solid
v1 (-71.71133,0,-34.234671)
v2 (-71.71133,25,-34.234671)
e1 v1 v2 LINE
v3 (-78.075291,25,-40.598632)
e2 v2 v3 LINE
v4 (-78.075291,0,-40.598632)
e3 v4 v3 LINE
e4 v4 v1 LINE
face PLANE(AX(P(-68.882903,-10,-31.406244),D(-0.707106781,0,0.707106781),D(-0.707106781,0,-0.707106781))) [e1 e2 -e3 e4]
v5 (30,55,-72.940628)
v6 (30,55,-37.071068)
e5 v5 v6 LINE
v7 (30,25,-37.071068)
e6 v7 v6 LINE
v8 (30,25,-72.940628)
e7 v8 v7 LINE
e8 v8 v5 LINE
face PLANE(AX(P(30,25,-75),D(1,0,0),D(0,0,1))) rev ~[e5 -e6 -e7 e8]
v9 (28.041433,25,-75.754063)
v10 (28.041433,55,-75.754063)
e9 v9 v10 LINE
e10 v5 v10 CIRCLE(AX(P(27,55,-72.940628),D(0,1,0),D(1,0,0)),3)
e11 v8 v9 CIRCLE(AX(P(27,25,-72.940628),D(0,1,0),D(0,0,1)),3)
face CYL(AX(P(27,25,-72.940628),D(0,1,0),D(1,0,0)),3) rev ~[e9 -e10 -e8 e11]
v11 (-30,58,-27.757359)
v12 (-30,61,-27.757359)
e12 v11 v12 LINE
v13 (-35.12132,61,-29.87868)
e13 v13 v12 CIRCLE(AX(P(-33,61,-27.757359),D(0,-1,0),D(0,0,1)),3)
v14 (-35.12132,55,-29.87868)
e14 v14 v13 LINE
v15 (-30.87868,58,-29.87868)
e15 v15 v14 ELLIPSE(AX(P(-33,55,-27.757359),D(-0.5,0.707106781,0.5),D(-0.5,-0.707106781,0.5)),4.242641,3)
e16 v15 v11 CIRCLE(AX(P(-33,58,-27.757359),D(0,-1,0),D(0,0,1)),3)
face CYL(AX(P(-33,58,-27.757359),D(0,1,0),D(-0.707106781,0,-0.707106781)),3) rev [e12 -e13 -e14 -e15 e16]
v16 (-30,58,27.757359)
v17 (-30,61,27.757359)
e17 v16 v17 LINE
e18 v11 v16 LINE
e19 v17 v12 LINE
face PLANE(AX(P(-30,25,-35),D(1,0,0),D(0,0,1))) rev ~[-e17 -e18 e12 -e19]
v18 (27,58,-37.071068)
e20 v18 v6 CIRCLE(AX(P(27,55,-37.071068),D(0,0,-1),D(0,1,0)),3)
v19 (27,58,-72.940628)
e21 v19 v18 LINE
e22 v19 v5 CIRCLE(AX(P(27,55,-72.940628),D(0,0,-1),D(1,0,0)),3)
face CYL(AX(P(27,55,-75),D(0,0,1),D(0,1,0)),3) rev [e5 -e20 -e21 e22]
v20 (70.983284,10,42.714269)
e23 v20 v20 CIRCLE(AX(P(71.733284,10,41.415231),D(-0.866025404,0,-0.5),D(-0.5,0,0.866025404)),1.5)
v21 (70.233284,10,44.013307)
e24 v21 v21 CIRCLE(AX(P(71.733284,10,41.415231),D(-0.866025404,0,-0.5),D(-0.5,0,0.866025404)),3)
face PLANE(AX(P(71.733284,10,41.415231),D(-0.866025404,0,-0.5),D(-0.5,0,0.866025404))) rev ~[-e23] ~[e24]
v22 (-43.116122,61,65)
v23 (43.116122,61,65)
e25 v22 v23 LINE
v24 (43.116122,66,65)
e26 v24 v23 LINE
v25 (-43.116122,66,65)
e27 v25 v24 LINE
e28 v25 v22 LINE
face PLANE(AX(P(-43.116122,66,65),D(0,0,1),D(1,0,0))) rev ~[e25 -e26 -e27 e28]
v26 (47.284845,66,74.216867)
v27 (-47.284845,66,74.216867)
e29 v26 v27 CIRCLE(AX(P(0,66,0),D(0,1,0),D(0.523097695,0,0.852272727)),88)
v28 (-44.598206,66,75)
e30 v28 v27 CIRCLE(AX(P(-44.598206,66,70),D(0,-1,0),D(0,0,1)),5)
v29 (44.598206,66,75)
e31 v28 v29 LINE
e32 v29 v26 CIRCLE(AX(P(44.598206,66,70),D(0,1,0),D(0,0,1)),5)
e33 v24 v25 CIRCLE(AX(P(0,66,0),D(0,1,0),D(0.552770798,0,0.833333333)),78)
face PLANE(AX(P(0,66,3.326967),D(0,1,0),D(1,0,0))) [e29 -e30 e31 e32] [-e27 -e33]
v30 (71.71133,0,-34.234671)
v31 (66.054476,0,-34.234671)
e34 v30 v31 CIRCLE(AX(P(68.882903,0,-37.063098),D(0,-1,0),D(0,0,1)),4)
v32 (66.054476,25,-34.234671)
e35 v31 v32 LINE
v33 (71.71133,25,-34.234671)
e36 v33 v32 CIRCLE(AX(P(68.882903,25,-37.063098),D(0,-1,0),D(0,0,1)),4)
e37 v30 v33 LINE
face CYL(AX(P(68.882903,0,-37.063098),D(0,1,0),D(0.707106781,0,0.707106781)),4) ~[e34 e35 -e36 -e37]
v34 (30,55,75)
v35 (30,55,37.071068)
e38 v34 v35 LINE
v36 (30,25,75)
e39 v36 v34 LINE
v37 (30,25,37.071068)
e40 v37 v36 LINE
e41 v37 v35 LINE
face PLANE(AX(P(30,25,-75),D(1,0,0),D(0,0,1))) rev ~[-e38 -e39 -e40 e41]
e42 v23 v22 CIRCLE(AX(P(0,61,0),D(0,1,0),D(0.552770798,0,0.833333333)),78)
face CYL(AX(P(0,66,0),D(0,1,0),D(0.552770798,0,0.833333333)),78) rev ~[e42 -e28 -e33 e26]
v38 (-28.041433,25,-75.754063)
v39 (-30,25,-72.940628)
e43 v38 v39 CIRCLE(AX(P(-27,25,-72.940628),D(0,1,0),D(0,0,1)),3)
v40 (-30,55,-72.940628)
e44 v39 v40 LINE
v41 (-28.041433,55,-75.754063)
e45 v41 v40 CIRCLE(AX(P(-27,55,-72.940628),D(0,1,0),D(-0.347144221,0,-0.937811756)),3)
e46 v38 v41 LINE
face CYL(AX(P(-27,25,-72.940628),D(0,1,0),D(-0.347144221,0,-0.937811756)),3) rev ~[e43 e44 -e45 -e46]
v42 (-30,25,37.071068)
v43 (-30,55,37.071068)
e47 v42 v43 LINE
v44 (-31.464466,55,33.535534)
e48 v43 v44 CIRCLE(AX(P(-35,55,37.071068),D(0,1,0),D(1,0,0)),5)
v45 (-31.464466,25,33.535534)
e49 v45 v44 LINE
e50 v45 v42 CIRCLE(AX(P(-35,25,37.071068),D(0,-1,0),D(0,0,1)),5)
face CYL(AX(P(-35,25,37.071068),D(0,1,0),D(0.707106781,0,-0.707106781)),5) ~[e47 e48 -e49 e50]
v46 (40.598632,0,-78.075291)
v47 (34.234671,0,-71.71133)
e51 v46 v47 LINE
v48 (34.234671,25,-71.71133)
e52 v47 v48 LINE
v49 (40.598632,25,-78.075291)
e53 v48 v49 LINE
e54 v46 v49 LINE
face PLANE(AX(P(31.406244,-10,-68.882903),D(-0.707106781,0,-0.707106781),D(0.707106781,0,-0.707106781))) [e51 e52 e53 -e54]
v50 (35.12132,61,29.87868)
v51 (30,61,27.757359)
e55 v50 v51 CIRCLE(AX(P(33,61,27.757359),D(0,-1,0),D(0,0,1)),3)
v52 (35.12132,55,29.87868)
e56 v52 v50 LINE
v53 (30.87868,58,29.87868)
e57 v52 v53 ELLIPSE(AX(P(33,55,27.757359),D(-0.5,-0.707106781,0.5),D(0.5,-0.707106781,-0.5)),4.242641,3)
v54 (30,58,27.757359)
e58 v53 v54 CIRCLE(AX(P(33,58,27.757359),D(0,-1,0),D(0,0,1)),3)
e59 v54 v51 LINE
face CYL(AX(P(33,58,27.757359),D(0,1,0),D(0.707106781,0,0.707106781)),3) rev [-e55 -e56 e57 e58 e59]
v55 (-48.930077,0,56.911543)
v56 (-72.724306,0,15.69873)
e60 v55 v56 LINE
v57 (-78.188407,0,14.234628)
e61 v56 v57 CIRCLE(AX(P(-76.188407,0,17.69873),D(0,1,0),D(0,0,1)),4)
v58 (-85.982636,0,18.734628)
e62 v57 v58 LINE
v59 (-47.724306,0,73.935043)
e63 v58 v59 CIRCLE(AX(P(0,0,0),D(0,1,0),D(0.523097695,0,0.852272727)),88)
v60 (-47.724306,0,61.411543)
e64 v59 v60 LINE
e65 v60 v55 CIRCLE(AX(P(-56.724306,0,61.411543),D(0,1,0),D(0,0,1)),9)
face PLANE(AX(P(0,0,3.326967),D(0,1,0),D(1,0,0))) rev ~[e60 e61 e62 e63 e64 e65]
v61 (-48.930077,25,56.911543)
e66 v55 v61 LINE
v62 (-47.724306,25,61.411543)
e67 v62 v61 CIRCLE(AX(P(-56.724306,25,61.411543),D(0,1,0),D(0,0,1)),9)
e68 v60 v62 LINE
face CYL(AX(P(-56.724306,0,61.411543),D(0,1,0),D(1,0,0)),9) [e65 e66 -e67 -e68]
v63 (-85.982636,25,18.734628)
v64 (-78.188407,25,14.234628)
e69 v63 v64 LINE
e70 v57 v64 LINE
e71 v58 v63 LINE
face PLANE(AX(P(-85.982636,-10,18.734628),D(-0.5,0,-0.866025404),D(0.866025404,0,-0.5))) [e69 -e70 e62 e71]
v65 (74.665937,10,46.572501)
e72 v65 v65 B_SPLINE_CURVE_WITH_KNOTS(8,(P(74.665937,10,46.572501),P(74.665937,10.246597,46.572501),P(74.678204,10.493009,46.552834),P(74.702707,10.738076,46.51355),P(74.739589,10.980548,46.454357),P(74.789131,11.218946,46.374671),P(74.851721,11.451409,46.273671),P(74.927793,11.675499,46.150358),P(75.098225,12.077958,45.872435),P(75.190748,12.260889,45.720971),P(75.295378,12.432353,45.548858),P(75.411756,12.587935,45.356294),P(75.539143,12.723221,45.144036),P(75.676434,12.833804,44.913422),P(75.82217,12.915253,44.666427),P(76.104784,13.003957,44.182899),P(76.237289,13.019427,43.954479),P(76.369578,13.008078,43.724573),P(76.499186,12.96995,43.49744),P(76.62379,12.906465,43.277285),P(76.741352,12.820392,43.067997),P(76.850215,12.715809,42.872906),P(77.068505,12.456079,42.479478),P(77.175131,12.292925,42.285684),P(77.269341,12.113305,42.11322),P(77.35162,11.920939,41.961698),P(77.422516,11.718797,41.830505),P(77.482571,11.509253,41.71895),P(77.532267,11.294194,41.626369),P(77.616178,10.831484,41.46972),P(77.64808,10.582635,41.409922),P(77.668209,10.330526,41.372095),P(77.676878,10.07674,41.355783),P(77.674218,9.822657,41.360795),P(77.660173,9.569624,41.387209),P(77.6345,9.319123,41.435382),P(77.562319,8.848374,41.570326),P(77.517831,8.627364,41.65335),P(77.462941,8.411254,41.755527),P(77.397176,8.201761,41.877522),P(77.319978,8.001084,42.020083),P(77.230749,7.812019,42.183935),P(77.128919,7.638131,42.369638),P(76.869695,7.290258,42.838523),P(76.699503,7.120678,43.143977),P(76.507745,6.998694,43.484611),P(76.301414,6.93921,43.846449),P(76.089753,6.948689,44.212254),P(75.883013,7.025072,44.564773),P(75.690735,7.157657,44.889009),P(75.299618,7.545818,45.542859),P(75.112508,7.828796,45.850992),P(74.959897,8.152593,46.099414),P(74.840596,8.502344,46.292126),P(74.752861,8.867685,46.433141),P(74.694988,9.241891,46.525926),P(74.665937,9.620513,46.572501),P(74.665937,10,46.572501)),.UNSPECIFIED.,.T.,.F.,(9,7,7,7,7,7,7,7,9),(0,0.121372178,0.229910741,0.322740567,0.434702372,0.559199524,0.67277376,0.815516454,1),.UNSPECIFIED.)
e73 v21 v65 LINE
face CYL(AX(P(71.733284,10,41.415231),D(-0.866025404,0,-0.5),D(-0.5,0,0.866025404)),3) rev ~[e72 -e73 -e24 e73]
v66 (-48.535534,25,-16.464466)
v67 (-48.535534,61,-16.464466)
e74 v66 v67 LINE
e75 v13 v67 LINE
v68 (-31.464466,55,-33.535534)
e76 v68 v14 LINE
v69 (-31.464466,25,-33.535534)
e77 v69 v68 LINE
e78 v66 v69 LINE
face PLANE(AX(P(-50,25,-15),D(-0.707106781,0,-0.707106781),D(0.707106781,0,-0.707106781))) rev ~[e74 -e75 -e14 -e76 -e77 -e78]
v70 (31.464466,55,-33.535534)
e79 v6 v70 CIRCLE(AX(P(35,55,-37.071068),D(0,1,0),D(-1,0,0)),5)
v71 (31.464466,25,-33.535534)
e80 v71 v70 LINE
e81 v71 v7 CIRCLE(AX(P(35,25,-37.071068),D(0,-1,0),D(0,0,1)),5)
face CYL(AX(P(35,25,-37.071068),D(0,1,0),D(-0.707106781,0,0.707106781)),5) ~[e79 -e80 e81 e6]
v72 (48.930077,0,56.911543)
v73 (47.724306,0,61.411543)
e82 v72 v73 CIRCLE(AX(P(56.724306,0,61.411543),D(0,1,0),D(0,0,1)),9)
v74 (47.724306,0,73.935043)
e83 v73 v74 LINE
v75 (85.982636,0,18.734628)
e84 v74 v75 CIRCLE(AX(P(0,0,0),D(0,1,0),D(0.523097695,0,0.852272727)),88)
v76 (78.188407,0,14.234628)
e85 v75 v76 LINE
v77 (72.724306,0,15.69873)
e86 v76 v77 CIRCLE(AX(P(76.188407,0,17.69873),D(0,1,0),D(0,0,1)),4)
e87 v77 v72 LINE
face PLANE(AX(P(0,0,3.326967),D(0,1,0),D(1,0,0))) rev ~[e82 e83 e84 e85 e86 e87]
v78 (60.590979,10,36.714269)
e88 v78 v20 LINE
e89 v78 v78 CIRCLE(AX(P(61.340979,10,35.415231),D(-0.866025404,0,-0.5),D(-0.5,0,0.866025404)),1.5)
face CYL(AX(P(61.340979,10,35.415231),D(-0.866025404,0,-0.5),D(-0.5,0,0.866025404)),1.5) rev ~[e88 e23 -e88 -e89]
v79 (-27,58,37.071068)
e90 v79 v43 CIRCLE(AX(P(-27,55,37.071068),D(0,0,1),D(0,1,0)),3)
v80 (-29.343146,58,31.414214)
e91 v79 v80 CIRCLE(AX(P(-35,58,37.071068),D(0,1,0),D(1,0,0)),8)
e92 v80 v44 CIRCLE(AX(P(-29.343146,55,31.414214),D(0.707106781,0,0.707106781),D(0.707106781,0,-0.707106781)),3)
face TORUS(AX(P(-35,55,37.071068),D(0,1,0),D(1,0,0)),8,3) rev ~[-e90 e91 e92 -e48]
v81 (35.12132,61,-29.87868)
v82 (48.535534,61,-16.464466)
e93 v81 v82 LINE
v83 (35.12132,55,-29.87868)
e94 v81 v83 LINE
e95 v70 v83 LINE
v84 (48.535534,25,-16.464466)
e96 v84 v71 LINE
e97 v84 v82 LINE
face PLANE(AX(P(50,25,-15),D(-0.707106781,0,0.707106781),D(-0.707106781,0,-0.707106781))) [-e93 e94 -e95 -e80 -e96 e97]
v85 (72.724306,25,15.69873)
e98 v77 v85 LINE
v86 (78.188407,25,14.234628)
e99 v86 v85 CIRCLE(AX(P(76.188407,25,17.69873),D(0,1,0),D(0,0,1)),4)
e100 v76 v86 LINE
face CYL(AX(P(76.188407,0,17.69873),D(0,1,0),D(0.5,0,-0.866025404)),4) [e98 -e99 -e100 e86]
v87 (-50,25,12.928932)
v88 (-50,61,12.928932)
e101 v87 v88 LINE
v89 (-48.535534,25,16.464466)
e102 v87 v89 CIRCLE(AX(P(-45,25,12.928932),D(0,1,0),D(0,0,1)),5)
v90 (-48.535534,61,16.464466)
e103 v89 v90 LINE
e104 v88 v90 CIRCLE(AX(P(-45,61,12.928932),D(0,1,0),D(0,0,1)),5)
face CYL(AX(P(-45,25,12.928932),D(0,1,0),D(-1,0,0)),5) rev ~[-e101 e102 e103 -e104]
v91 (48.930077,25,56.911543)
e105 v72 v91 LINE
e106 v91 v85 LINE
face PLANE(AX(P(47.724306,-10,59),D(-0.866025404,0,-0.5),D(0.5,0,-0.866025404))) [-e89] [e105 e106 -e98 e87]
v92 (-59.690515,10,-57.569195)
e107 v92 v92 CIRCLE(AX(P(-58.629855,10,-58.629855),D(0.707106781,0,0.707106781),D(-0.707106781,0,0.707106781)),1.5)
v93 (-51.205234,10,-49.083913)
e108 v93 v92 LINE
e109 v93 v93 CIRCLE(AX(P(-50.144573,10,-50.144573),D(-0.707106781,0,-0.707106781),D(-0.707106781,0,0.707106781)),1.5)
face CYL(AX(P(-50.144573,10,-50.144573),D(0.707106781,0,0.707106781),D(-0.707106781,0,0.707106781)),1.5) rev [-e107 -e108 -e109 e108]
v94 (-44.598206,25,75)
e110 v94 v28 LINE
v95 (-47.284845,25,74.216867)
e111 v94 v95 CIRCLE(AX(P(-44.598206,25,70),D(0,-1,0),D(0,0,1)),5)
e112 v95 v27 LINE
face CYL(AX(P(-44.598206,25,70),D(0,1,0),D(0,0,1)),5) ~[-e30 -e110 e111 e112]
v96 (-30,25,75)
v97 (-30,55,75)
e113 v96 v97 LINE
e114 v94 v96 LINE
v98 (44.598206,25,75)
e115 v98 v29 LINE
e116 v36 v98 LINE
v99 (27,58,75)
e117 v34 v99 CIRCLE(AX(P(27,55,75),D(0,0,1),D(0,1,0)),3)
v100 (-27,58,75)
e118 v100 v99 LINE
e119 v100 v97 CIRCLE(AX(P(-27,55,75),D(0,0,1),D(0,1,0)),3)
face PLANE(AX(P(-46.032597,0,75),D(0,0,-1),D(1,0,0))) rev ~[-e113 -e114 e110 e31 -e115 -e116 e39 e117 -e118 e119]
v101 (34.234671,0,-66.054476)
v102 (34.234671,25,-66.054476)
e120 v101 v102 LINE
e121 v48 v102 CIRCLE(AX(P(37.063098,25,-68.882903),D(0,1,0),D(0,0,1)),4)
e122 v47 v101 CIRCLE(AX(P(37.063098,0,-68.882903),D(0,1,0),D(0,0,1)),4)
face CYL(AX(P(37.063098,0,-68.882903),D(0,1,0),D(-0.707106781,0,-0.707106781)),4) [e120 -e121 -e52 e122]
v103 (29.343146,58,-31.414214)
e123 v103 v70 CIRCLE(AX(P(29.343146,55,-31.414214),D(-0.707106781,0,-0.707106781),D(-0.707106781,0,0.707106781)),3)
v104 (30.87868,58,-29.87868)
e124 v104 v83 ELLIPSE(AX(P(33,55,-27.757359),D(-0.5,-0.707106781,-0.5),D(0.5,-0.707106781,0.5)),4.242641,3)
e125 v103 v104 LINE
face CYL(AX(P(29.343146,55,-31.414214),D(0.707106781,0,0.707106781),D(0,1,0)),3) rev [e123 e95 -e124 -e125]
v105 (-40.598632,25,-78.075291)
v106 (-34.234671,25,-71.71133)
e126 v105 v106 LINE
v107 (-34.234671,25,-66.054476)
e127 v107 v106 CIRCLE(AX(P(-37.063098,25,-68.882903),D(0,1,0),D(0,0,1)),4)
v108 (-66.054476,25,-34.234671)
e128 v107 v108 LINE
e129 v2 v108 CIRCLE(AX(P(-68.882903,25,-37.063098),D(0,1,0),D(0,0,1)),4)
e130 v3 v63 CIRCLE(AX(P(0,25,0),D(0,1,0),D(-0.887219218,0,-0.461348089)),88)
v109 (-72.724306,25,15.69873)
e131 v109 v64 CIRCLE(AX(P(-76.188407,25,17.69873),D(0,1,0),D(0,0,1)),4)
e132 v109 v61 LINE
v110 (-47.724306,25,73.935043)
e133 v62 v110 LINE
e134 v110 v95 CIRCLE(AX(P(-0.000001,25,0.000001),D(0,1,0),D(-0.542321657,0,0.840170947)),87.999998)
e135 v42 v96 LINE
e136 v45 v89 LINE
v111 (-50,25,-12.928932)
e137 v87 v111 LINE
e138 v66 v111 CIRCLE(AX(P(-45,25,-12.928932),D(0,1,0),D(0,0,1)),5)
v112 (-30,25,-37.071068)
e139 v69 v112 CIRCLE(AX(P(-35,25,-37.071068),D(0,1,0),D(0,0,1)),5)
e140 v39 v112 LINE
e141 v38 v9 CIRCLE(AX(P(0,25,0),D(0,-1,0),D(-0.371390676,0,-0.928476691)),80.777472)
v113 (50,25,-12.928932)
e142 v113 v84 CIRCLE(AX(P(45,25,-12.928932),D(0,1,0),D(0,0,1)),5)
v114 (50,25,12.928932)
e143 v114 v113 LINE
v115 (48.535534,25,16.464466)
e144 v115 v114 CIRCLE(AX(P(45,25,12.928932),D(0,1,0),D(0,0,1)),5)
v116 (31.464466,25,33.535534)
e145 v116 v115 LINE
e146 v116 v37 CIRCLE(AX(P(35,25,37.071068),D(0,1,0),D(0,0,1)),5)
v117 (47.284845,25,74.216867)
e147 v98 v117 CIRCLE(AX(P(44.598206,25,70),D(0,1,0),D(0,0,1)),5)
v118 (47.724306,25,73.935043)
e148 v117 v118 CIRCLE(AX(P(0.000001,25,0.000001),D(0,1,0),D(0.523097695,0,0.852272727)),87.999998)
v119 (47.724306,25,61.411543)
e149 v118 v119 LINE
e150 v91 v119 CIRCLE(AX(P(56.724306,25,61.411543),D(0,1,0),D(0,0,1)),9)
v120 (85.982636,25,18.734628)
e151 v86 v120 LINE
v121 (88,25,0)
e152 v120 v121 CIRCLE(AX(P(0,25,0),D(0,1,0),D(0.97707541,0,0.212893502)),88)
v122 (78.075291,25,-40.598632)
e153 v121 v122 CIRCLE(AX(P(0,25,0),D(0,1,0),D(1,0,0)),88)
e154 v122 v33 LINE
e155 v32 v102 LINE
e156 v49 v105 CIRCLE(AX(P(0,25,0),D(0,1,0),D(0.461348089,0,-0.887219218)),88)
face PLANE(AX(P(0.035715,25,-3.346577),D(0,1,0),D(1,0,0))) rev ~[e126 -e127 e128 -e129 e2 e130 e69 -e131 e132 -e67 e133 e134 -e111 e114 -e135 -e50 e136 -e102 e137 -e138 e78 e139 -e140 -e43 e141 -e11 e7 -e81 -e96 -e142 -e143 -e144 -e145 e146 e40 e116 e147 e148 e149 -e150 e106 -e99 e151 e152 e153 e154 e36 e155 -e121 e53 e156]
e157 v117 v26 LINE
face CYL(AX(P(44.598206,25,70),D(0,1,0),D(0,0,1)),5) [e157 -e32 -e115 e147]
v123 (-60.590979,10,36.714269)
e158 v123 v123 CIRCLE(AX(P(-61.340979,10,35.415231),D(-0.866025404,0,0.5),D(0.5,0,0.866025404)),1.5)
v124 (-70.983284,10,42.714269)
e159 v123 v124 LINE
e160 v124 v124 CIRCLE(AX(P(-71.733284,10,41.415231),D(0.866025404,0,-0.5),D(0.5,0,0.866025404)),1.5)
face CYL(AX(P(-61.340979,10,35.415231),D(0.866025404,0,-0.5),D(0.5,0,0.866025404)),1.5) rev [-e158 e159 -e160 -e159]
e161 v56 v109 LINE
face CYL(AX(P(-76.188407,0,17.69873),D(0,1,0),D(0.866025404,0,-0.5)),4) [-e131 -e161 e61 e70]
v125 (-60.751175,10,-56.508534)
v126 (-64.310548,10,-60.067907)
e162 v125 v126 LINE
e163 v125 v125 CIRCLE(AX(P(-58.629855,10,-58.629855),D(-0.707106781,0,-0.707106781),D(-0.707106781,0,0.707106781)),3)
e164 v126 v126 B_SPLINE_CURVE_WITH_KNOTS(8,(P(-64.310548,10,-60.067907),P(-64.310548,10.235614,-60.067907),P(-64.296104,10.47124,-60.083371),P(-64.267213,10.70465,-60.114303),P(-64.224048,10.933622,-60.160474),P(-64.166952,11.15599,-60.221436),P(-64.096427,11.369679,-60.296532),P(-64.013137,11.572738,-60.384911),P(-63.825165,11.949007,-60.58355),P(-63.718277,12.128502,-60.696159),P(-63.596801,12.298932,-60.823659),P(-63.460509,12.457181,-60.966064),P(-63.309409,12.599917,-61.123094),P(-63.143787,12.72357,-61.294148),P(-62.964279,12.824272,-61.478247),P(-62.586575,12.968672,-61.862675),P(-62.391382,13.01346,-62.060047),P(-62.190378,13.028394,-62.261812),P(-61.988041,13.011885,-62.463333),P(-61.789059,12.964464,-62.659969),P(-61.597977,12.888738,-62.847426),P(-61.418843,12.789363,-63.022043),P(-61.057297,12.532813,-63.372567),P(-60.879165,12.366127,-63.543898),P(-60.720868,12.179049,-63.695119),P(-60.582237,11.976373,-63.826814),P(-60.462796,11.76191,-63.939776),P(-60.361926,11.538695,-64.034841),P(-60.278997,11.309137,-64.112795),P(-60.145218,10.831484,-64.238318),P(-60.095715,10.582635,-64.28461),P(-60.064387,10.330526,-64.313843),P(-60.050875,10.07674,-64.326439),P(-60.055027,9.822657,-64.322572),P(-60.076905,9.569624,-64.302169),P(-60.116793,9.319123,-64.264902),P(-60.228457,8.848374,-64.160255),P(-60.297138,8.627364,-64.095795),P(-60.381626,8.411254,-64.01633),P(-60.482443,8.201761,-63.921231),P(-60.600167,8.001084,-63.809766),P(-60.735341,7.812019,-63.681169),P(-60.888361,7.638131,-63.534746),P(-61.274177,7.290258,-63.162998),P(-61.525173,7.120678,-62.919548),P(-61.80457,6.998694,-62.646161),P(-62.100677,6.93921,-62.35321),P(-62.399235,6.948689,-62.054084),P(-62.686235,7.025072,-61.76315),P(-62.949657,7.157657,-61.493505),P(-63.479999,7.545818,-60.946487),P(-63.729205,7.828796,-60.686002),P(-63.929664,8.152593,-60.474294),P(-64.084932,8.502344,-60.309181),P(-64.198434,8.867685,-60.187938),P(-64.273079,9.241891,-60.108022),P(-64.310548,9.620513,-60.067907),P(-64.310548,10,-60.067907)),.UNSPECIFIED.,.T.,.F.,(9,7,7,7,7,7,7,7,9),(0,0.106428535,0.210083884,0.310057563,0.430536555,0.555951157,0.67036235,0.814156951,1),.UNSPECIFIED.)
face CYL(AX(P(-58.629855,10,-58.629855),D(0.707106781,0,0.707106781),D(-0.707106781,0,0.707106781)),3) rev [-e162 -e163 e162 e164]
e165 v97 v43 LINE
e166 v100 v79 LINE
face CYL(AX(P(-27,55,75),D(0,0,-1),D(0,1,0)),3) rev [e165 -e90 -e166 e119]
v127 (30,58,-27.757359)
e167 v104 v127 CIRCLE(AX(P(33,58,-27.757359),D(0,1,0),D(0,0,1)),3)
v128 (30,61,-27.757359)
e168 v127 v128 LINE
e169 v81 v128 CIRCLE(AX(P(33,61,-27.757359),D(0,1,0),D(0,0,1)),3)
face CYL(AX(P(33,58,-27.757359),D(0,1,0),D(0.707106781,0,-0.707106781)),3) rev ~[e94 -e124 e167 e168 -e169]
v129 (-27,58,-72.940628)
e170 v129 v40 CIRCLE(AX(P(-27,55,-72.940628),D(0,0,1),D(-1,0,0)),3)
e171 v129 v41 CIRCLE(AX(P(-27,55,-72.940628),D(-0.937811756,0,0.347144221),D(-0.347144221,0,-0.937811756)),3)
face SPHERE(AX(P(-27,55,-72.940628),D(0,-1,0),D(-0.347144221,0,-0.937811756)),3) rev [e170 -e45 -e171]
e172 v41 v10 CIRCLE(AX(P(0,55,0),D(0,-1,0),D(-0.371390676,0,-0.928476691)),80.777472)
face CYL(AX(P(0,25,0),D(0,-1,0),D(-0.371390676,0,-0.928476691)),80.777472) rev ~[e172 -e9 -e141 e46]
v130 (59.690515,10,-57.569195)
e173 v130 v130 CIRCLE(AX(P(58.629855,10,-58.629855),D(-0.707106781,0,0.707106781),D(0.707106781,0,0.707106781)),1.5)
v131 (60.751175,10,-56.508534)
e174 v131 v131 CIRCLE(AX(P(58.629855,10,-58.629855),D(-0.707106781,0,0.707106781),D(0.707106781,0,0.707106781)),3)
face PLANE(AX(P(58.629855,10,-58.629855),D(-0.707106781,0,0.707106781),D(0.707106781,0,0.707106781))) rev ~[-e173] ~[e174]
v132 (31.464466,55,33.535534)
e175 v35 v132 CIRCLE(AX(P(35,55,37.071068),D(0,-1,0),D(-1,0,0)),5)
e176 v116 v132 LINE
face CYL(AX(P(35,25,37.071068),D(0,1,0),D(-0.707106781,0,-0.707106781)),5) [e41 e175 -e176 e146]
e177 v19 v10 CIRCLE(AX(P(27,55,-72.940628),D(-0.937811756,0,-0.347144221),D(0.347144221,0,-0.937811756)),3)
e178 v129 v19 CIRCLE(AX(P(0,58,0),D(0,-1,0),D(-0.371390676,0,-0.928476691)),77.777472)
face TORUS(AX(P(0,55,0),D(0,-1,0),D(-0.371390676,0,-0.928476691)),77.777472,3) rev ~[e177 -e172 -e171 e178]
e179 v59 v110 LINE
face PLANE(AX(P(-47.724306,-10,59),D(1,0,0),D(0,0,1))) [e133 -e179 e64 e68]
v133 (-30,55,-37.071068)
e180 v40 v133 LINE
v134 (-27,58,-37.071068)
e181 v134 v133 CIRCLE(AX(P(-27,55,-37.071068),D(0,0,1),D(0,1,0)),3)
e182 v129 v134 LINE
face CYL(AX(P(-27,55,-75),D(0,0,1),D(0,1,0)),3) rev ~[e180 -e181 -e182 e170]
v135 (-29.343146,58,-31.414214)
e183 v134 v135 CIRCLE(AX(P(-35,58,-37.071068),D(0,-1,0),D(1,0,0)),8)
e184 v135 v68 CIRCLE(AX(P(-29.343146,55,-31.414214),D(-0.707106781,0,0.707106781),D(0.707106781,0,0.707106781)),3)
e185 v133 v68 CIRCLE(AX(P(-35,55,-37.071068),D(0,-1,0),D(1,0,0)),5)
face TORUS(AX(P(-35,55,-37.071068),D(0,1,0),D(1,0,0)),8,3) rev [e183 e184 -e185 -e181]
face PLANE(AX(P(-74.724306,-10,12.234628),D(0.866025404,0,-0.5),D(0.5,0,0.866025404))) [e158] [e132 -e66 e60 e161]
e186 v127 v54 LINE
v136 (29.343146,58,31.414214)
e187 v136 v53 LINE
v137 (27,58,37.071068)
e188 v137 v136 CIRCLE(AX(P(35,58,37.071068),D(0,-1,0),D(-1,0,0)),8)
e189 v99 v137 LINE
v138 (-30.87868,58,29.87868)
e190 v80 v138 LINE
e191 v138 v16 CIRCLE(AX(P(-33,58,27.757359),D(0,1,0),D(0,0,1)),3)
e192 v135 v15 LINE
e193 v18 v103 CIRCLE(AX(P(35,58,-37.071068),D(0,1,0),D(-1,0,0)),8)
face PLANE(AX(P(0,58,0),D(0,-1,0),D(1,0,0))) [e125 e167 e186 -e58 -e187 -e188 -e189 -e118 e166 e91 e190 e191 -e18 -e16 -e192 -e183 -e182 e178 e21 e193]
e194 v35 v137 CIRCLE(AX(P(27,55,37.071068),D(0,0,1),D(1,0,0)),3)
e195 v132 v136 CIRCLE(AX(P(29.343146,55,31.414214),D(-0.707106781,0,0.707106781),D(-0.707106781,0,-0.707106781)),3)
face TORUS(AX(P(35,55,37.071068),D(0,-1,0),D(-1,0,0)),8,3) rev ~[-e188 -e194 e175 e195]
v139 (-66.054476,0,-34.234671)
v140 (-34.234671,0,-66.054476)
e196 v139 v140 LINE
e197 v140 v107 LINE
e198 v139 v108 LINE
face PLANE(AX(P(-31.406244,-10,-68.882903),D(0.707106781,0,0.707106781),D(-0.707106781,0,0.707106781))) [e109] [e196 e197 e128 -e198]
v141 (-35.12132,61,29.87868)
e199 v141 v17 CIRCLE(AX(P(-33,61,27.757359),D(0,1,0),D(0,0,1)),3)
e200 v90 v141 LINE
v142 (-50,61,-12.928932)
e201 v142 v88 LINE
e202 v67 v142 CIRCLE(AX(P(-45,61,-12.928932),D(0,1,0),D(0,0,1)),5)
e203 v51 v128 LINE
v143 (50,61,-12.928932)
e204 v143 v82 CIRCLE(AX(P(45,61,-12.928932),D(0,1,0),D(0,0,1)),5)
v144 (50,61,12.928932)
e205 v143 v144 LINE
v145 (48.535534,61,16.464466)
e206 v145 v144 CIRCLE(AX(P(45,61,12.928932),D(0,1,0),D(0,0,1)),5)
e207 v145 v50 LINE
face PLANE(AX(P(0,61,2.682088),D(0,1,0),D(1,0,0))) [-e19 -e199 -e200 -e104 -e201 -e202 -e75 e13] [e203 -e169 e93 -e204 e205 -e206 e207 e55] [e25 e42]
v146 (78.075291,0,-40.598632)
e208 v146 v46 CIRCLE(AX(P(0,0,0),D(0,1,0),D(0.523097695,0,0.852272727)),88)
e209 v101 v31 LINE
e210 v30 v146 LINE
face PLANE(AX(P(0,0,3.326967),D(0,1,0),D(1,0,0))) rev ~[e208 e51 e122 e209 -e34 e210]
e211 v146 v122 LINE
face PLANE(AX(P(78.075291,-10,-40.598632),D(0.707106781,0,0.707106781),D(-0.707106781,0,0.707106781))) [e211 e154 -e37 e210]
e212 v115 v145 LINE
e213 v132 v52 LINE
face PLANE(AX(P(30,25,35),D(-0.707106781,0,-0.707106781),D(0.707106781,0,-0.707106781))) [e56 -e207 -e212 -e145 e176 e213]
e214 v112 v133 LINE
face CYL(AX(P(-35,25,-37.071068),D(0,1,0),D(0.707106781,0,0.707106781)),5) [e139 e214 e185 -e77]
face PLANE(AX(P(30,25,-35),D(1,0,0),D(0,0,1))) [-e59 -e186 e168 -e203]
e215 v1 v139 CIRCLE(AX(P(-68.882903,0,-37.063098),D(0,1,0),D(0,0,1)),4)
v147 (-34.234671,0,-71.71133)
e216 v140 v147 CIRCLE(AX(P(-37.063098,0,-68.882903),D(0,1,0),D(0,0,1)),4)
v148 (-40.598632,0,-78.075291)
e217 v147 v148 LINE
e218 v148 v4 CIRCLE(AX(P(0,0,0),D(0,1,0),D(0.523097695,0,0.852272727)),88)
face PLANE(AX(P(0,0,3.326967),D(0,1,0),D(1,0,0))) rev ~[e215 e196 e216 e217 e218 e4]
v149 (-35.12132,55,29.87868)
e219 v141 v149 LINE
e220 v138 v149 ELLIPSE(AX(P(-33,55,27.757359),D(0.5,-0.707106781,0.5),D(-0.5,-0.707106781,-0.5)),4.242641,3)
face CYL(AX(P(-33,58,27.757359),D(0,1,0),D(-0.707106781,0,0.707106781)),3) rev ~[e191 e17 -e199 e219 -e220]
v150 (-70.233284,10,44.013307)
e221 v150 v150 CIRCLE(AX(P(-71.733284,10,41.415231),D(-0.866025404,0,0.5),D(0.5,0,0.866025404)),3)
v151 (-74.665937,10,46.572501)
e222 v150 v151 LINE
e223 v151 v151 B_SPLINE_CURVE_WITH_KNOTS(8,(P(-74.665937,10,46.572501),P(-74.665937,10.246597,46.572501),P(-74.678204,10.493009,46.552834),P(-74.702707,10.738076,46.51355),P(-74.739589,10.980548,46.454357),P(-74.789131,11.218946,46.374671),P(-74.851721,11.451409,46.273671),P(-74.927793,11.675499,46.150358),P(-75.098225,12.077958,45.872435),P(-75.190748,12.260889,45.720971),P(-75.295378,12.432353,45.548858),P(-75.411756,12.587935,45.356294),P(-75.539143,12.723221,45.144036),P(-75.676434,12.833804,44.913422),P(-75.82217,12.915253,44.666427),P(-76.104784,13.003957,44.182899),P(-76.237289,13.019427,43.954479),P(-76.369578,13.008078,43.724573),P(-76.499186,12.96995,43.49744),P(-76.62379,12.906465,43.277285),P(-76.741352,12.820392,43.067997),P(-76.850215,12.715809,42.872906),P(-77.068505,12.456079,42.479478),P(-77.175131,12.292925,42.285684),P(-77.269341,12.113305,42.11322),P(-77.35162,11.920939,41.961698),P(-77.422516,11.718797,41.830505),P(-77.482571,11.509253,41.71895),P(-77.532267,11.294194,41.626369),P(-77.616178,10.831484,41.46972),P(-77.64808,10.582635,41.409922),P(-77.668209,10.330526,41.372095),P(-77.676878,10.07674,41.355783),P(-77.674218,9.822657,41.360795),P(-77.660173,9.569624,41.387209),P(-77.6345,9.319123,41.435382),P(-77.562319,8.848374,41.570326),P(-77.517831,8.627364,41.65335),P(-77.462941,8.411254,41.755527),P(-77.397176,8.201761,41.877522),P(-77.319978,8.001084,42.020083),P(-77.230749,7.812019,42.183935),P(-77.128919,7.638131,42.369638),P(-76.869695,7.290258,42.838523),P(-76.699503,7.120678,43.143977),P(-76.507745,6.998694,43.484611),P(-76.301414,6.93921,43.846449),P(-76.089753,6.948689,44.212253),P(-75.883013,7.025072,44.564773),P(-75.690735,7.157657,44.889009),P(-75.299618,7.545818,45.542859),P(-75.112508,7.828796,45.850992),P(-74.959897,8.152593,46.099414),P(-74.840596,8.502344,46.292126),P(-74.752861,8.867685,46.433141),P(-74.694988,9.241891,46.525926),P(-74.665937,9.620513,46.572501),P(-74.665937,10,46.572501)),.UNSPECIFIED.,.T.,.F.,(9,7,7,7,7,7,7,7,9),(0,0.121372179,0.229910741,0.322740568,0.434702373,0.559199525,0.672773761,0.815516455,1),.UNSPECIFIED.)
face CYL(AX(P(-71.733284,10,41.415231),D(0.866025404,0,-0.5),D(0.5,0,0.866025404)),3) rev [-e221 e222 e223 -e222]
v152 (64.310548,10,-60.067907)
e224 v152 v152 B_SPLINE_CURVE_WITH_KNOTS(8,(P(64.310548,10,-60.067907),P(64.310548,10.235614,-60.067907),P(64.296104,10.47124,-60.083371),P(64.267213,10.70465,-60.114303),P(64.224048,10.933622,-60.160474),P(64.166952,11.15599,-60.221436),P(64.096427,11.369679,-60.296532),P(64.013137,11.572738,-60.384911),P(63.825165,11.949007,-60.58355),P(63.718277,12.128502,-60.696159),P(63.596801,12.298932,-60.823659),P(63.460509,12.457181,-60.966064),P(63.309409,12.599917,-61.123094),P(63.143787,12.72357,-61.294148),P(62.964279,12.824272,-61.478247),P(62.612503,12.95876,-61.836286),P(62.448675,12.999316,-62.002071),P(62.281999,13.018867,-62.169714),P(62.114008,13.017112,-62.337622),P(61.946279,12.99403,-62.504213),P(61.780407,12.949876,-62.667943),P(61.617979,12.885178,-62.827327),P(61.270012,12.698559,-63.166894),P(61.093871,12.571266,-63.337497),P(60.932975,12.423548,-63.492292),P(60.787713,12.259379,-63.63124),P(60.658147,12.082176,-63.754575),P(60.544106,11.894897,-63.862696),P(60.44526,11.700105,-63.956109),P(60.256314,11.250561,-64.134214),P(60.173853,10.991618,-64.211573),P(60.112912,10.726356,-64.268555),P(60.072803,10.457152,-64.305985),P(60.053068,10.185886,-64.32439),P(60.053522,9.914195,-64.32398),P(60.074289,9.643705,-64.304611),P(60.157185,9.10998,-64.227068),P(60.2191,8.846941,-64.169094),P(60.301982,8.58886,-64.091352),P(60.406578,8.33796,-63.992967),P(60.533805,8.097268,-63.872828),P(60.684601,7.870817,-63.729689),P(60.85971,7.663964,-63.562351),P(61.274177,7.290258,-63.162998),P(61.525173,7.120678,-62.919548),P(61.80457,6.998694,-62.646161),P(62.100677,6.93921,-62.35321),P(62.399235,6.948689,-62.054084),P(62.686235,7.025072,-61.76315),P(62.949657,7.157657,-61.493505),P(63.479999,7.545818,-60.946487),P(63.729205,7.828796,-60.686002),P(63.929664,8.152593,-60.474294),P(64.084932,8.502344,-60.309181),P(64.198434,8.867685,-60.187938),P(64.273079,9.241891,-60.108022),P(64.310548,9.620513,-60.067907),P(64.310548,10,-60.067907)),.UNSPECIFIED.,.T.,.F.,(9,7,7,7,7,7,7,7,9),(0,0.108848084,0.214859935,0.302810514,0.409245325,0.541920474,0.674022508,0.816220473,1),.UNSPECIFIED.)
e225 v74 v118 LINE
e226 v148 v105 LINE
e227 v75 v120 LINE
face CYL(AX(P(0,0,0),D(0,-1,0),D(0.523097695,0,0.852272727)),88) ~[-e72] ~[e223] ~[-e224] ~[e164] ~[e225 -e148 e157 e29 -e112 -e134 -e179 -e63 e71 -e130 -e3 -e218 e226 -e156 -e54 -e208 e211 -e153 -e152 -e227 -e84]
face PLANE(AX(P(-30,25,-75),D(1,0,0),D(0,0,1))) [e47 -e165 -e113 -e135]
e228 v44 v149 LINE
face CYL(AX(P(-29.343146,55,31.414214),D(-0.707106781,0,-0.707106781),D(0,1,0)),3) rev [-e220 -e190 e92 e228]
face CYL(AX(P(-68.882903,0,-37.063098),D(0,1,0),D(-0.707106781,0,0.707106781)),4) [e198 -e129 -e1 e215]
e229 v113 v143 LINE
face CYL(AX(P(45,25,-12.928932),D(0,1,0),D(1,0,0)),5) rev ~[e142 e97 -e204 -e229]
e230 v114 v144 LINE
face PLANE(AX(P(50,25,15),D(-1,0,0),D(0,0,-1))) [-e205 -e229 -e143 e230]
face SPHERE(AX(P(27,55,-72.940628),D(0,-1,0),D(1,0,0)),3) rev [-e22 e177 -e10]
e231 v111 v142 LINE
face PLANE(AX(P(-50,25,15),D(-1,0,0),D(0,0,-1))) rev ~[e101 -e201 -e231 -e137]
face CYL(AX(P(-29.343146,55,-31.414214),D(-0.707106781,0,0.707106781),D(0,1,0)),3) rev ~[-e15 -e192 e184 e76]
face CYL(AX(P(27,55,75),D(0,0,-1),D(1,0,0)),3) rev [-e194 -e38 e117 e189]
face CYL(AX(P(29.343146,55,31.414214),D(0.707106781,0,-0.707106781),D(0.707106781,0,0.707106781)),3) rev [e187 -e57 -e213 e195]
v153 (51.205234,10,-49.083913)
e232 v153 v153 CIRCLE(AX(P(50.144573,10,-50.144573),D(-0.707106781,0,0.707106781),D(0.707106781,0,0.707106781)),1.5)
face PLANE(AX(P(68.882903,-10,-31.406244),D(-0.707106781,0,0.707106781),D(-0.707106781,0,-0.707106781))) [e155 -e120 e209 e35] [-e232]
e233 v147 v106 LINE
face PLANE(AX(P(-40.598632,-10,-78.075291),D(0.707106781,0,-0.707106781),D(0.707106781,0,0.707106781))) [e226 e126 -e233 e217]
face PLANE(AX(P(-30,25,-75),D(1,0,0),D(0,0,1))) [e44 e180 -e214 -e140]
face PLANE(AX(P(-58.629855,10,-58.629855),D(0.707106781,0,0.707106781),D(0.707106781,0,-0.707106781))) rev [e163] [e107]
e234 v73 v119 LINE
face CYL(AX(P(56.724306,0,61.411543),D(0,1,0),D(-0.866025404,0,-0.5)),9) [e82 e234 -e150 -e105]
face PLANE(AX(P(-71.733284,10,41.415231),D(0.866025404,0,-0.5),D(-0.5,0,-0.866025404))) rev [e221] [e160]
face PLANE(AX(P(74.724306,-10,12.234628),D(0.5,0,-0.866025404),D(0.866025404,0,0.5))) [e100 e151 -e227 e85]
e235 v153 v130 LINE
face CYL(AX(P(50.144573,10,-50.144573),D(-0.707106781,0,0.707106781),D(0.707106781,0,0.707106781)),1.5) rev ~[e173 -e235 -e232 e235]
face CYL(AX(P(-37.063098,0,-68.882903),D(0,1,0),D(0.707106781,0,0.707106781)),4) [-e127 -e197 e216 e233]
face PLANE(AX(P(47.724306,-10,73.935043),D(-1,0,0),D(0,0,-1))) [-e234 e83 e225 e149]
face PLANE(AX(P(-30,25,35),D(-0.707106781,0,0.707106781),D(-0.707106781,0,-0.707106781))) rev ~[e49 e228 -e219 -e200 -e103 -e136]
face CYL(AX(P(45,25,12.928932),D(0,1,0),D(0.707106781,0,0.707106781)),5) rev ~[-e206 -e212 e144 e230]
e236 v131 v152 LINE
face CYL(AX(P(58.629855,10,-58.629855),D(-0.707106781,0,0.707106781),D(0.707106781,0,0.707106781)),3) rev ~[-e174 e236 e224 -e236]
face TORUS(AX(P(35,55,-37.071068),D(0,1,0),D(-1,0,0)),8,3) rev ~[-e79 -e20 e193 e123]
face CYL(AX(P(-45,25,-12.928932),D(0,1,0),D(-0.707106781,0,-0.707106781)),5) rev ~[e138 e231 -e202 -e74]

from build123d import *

# Parameters (mm, degrees)
BOSS_EXTRUDE1_DEPTH     = 66
CUT_EXTRUDE3_DEPTH      = 25
CUT_EXTRUDE3_DEPTH_BACK = 10
FILLET1_R               = 4
FILLET3_R               = 9
SKETCH4_W               = 60
SKETCH4_H               = 150
CUT_EXTRUDE4_DEPTH      = 33
CUT_EXTRUDE5_DEPTH      = 5
CUT_EXTRUDE6_DEPTH      = 132.030530793
FILLET5_R               = 3
FILLET6_R               = 5
FILLET7_R               = 3
SKETCH7_R               = 1.5
CUT_EXTRUDE7_DEPTH      = 198.739948877
SKETCH11_R              = 3
CUT_EXTRUDE10_DEPTH     = 210.0771447
SKETCH8_R               = 1.5
CUT_EXTRUDE8_DEPTH      = 205.670582053
SKETCH10_R              = 3
CUT_EXTRUDE9_DEPTH      = 216.914390172
FILLET10_R              = 5


with BuildPart() as part:
    # Sketch3 → Boss-Extrude1 (new body)
    with BuildSketch(Plane(origin=(0, 0, 0), x_dir=(1, 0, 0), z_dir=(0, 1, 0))):
        with BuildLine():
            Line((-46.032597146, -75), (46.032597146, -75))
            ThreePointArc((46.032597146, -75), (0, 88), (-46.032597146, -75))
        make_face()
    extrude(amount=BOSS_EXTRUDE1_DEPTH)

    # Sketch2 → Cut-Extrude3 (cut, two sides: drawn at the far end of the back side and taken through both)
    with BuildSketch(Plane(origin=(0, 0, 0), x_dir=(1, 0, 0), z_dir=(0, 1, 0)).offset(-CUT_EXTRUDE3_DEPTH_BACK)):
        with BuildLine():
            Line((68.882903046, 31.406243643), (31.406243643, 68.882903046))
            Line((31.406243643, 68.882903046), (40.598631798, 78.075291201))
            ThreePointArc((40.598631798, 78.075291201), (0, 88), (-40.598631798, 78.075291201))
            Line((-40.598631798, 78.075291201), (-31.406243643, 68.882903046))
            Line((-31.406243643, 68.882903046), (-68.882903046, 31.406243643))
            Line((-68.882903046, 31.406243643), (-78.075291201, 40.598631798))
            ThreePointArc((-78.075291201, 40.598631798), (-87.22877857, 11.624981252), (-85.982636075, -18.734628196))
            Line((-85.982636075, -18.734628196), (-74.724305826, -12.234628196))
            Line((-74.724305826, -12.234628196), (-47.724305826, -59))
            Line((-47.724305826, -59), (-47.724305826, -73.935043338))
            ThreePointArc((-47.724305826, -73.935043338), (-46.881475519, -74.472325418), (-46.032597146, -75))
            ThreePointArc((-46.032597146, -75), (0, -88), (46.032597146, -75))
            ThreePointArc((46.032597146, -75), (46.881475519, -74.472325418), (47.724305826, -73.935043338))
            Line((47.724305826, -73.935043338), (47.724305826, -59))
            Line((47.724305826, -59), (74.724305826, -12.234628196))
            Line((74.724305826, -12.234628196), (85.982636075, -18.734628196))
            ThreePointArc((85.982636075, -18.734628196), (87.49420545, -9.421465529), (88, 0))
            ThreePointArc((88, 0), (85.482821741, 20.897061687), (78.075291201, 40.598631798))
            Line((78.075291201, 40.598631798), (68.882903046, 31.406243643))
        make_face()
    extrude(amount=CUT_EXTRUDE3_DEPTH + CUT_EXTRUDE3_DEPTH_BACK, mode=Mode.SUBTRACT)

    # Fillet1
    fillet1_edges = [part.edges().sort_by_distance(p)[0] for p in [
        (74.724305826, 12.5, 12.234628196),
        (68.882903046, 12.5, -31.406243643),
        (31.406243643, 12.5, -68.882903046),
        (-31.406243643, 12.5, -68.882903046),
        (-68.882903046, 12.5, -31.406243643),
        (-74.724305826, 12.5, 12.234628196),
    ]]
    fillet(fillet1_edges, radius=FILLET1_R)

    # Fillet3
    fillet3_edges = [part.edges().sort_by_distance(p)[0] for p in [
        (47.724305826, 12.5, 59),
        (-47.724305826, 12.5, 59),
    ]]
    fillet(fillet3_edges, radius=FILLET3_R)

    # Sketch4 → Cut-Extrude4 (cut)
    with BuildSketch(Plane.XZ.offset(-25)):
        Rectangle(SKETCH4_W, SKETCH4_H)
        with BuildLine():
            Line((30, -75), (-30, -75))
            ThreePointArc((-30, -75), (0, -80.777472107), (30, -75))
        make_face()
    extrude(amount=-CUT_EXTRUDE4_DEPTH, mode=Mode.SUBTRACT)

    # Sketch5 → Cut-Extrude5 (cut)
    with BuildSketch(Plane(origin=(0, 66, 0), x_dir=(1, 0, 0), z_dir=(0, 1, 0))):
        with BuildLine():
            Line((-43.116122275, -65), (43.116122275, -65))
            ThreePointArc((43.116122275, -65), (0, 78), (-43.116122275, -65))
        make_face()
    extrude(amount=-CUT_EXTRUDE5_DEPTH, mode=Mode.SUBTRACT)

    # Sketch6 → Cut-Extrude6 (cut, through all)
    with BuildSketch(Plane.XZ.offset(-25)):
        Polygon((30, 35), (50, 15), (50, -15), (30, -35), align=None)
        Polygon((-50, -15), (-30, -35), (-30, 35), (-50, 15), align=None)
    extrude(amount=-CUT_EXTRUDE6_DEPTH, mode=Mode.SUBTRACT)

    # Fillet5
    fillet5_edges = [part.edges().sort_by_distance(p)[0] for p in [
        (30, 59.5, -35),
        (30, 59.5, 35),
        (-30, 59.5, 35),
        (-30, 59.5, -35),
    ]]
    fillet(fillet5_edges, radius=FILLET5_R)

    # Fillet6
    fillet6_edges = [part.edges().sort_by_distance(p)[0] for p in [
        (30, 41.5, -35),
        (30, 41.5, 35),
        (50, 43, 15),
        (50, 43, -15),
        (-30, 41.5, 35),
        (-50, 43, -15),
        (-50, 43, 15),
        (-30, 41.5, -35),
    ]]
    fillet(fillet6_edges, radius=FILLET6_R)

    # Fillet7
    fillet7_edges = [part.edges().sort_by_distance(p)[0] for p in [
        (-30, 41.5, -75),
        (30, 58, -56.035533906),
        (0, 58, -80.777472107),
        (30, 41.5, -75),
        (-30, 58, -56.035533906),
        (-33.292893219, 58, 31.707106781),
        (33.292893219, 58, -31.707106781),
        (33.292893219, 58, 31.707106781),
        (30, 58, 56.035533906),
        (-30, 58, 56.035533906),
        (-33.292893219, 58, -31.707106781),
        (30.380602337, 58, -35.15765065),
        (30.380602337, 58, 35.15765065),
        (-30.380602337, 58, 35.15765065),
        (-30.380602337, 58, -35.15765065),
    ]]
    fillet(fillet7_edges, radius=FILLET7_R)

    # Sketch7 → Cut-Extrude7 (cut, through all)
    with BuildSketch(Plane(origin=(50.144573344, 0, -50.144573344), x_dir=(0.7071067811865472, 0, 0.7071067811865478), z_dir=(-0.7071067811865478, 0, 0.7071067811865472))):
        with Locations((0, 10)):
            Circle(SKETCH7_R)
    cut_extrude7 = extrude(amount=-CUT_EXTRUDE7_DEPTH, mode=Mode.SUBTRACT)

    # Sketch11 → Cut-Extrude10 (cut, through all)
    with BuildSketch(Plane(origin=(58.629854718, 0, -58.629854718), x_dir=(0.7071067811865472, 0, 0.7071067811865478), z_dir=(-0.7071067811865478, 0, 0.7071067811865472))):
        with Locations((0, 10)):
            Circle(SKETCH11_R)
    cut_extrude10 = extrude(amount=-CUT_EXTRUDE10_DEPTH, mode=Mode.SUBTRACT)

    # Sketch8 → Cut-Extrude8 (cut, through all)
    with BuildSketch(Plane(origin=(61.340978781, 0, 35.415230611), x_dir=(-0.5000000000000003, 0, 0.8660254037844386), z_dir=(-0.8660254037844385, 0, -0.5000000000000002))):
        with Locations((0, 10)):
            Circle(SKETCH8_R)
    cut_extrude8 = extrude(amount=-CUT_EXTRUDE8_DEPTH, mode=Mode.SUBTRACT)

    # Sketch10 → Cut-Extrude9 (cut, through all)
    with BuildSketch(Plane(origin=(71.733283626, 0, 41.415230611), x_dir=(-0.5000000000000003, 0, 0.8660254037844386), z_dir=(-0.8660254037844385, 0, -0.5000000000000002))):
        with Locations((0, 10)):
            Circle(SKETCH10_R)
    cut_extrude9 = extrude(amount=-CUT_EXTRUDE9_DEPTH, mode=Mode.SUBTRACT)

    # Mirror1: Cut-Extrude7, Cut-Extrude10, Cut-Extrude8, Cut-Extrude9 across plane
    add(cut_extrude7.mirror(Plane(origin=(0, 0, 0), x_dir=(0, 0, 1), z_dir=(1, 0, 0))), mode=Mode.SUBTRACT)
    add(cut_extrude10.mirror(Plane(origin=(0, 0, 0), x_dir=(0, 0, 1), z_dir=(1, 0, 0))), mode=Mode.SUBTRACT)
    add(cut_extrude8.mirror(Plane(origin=(0, 0, 0), x_dir=(0, 0, 1), z_dir=(1, 0, 0))), mode=Mode.SUBTRACT)
    add(cut_extrude9.mirror(Plane(origin=(0, 0, 0), x_dir=(0, 0, 1), z_dir=(1, 0, 0))), mode=Mode.SUBTRACT)

    # Fillet10
    fillet10_edges = [part.edges().sort_by_distance(p)[0] for p in [
        (46.032597146, 45.5, 75),
        (-46.032597146, 45.5, 75),
    ]]
    fillet(fillet10_edges, radius=FILLET10_R)


solid = part.part
